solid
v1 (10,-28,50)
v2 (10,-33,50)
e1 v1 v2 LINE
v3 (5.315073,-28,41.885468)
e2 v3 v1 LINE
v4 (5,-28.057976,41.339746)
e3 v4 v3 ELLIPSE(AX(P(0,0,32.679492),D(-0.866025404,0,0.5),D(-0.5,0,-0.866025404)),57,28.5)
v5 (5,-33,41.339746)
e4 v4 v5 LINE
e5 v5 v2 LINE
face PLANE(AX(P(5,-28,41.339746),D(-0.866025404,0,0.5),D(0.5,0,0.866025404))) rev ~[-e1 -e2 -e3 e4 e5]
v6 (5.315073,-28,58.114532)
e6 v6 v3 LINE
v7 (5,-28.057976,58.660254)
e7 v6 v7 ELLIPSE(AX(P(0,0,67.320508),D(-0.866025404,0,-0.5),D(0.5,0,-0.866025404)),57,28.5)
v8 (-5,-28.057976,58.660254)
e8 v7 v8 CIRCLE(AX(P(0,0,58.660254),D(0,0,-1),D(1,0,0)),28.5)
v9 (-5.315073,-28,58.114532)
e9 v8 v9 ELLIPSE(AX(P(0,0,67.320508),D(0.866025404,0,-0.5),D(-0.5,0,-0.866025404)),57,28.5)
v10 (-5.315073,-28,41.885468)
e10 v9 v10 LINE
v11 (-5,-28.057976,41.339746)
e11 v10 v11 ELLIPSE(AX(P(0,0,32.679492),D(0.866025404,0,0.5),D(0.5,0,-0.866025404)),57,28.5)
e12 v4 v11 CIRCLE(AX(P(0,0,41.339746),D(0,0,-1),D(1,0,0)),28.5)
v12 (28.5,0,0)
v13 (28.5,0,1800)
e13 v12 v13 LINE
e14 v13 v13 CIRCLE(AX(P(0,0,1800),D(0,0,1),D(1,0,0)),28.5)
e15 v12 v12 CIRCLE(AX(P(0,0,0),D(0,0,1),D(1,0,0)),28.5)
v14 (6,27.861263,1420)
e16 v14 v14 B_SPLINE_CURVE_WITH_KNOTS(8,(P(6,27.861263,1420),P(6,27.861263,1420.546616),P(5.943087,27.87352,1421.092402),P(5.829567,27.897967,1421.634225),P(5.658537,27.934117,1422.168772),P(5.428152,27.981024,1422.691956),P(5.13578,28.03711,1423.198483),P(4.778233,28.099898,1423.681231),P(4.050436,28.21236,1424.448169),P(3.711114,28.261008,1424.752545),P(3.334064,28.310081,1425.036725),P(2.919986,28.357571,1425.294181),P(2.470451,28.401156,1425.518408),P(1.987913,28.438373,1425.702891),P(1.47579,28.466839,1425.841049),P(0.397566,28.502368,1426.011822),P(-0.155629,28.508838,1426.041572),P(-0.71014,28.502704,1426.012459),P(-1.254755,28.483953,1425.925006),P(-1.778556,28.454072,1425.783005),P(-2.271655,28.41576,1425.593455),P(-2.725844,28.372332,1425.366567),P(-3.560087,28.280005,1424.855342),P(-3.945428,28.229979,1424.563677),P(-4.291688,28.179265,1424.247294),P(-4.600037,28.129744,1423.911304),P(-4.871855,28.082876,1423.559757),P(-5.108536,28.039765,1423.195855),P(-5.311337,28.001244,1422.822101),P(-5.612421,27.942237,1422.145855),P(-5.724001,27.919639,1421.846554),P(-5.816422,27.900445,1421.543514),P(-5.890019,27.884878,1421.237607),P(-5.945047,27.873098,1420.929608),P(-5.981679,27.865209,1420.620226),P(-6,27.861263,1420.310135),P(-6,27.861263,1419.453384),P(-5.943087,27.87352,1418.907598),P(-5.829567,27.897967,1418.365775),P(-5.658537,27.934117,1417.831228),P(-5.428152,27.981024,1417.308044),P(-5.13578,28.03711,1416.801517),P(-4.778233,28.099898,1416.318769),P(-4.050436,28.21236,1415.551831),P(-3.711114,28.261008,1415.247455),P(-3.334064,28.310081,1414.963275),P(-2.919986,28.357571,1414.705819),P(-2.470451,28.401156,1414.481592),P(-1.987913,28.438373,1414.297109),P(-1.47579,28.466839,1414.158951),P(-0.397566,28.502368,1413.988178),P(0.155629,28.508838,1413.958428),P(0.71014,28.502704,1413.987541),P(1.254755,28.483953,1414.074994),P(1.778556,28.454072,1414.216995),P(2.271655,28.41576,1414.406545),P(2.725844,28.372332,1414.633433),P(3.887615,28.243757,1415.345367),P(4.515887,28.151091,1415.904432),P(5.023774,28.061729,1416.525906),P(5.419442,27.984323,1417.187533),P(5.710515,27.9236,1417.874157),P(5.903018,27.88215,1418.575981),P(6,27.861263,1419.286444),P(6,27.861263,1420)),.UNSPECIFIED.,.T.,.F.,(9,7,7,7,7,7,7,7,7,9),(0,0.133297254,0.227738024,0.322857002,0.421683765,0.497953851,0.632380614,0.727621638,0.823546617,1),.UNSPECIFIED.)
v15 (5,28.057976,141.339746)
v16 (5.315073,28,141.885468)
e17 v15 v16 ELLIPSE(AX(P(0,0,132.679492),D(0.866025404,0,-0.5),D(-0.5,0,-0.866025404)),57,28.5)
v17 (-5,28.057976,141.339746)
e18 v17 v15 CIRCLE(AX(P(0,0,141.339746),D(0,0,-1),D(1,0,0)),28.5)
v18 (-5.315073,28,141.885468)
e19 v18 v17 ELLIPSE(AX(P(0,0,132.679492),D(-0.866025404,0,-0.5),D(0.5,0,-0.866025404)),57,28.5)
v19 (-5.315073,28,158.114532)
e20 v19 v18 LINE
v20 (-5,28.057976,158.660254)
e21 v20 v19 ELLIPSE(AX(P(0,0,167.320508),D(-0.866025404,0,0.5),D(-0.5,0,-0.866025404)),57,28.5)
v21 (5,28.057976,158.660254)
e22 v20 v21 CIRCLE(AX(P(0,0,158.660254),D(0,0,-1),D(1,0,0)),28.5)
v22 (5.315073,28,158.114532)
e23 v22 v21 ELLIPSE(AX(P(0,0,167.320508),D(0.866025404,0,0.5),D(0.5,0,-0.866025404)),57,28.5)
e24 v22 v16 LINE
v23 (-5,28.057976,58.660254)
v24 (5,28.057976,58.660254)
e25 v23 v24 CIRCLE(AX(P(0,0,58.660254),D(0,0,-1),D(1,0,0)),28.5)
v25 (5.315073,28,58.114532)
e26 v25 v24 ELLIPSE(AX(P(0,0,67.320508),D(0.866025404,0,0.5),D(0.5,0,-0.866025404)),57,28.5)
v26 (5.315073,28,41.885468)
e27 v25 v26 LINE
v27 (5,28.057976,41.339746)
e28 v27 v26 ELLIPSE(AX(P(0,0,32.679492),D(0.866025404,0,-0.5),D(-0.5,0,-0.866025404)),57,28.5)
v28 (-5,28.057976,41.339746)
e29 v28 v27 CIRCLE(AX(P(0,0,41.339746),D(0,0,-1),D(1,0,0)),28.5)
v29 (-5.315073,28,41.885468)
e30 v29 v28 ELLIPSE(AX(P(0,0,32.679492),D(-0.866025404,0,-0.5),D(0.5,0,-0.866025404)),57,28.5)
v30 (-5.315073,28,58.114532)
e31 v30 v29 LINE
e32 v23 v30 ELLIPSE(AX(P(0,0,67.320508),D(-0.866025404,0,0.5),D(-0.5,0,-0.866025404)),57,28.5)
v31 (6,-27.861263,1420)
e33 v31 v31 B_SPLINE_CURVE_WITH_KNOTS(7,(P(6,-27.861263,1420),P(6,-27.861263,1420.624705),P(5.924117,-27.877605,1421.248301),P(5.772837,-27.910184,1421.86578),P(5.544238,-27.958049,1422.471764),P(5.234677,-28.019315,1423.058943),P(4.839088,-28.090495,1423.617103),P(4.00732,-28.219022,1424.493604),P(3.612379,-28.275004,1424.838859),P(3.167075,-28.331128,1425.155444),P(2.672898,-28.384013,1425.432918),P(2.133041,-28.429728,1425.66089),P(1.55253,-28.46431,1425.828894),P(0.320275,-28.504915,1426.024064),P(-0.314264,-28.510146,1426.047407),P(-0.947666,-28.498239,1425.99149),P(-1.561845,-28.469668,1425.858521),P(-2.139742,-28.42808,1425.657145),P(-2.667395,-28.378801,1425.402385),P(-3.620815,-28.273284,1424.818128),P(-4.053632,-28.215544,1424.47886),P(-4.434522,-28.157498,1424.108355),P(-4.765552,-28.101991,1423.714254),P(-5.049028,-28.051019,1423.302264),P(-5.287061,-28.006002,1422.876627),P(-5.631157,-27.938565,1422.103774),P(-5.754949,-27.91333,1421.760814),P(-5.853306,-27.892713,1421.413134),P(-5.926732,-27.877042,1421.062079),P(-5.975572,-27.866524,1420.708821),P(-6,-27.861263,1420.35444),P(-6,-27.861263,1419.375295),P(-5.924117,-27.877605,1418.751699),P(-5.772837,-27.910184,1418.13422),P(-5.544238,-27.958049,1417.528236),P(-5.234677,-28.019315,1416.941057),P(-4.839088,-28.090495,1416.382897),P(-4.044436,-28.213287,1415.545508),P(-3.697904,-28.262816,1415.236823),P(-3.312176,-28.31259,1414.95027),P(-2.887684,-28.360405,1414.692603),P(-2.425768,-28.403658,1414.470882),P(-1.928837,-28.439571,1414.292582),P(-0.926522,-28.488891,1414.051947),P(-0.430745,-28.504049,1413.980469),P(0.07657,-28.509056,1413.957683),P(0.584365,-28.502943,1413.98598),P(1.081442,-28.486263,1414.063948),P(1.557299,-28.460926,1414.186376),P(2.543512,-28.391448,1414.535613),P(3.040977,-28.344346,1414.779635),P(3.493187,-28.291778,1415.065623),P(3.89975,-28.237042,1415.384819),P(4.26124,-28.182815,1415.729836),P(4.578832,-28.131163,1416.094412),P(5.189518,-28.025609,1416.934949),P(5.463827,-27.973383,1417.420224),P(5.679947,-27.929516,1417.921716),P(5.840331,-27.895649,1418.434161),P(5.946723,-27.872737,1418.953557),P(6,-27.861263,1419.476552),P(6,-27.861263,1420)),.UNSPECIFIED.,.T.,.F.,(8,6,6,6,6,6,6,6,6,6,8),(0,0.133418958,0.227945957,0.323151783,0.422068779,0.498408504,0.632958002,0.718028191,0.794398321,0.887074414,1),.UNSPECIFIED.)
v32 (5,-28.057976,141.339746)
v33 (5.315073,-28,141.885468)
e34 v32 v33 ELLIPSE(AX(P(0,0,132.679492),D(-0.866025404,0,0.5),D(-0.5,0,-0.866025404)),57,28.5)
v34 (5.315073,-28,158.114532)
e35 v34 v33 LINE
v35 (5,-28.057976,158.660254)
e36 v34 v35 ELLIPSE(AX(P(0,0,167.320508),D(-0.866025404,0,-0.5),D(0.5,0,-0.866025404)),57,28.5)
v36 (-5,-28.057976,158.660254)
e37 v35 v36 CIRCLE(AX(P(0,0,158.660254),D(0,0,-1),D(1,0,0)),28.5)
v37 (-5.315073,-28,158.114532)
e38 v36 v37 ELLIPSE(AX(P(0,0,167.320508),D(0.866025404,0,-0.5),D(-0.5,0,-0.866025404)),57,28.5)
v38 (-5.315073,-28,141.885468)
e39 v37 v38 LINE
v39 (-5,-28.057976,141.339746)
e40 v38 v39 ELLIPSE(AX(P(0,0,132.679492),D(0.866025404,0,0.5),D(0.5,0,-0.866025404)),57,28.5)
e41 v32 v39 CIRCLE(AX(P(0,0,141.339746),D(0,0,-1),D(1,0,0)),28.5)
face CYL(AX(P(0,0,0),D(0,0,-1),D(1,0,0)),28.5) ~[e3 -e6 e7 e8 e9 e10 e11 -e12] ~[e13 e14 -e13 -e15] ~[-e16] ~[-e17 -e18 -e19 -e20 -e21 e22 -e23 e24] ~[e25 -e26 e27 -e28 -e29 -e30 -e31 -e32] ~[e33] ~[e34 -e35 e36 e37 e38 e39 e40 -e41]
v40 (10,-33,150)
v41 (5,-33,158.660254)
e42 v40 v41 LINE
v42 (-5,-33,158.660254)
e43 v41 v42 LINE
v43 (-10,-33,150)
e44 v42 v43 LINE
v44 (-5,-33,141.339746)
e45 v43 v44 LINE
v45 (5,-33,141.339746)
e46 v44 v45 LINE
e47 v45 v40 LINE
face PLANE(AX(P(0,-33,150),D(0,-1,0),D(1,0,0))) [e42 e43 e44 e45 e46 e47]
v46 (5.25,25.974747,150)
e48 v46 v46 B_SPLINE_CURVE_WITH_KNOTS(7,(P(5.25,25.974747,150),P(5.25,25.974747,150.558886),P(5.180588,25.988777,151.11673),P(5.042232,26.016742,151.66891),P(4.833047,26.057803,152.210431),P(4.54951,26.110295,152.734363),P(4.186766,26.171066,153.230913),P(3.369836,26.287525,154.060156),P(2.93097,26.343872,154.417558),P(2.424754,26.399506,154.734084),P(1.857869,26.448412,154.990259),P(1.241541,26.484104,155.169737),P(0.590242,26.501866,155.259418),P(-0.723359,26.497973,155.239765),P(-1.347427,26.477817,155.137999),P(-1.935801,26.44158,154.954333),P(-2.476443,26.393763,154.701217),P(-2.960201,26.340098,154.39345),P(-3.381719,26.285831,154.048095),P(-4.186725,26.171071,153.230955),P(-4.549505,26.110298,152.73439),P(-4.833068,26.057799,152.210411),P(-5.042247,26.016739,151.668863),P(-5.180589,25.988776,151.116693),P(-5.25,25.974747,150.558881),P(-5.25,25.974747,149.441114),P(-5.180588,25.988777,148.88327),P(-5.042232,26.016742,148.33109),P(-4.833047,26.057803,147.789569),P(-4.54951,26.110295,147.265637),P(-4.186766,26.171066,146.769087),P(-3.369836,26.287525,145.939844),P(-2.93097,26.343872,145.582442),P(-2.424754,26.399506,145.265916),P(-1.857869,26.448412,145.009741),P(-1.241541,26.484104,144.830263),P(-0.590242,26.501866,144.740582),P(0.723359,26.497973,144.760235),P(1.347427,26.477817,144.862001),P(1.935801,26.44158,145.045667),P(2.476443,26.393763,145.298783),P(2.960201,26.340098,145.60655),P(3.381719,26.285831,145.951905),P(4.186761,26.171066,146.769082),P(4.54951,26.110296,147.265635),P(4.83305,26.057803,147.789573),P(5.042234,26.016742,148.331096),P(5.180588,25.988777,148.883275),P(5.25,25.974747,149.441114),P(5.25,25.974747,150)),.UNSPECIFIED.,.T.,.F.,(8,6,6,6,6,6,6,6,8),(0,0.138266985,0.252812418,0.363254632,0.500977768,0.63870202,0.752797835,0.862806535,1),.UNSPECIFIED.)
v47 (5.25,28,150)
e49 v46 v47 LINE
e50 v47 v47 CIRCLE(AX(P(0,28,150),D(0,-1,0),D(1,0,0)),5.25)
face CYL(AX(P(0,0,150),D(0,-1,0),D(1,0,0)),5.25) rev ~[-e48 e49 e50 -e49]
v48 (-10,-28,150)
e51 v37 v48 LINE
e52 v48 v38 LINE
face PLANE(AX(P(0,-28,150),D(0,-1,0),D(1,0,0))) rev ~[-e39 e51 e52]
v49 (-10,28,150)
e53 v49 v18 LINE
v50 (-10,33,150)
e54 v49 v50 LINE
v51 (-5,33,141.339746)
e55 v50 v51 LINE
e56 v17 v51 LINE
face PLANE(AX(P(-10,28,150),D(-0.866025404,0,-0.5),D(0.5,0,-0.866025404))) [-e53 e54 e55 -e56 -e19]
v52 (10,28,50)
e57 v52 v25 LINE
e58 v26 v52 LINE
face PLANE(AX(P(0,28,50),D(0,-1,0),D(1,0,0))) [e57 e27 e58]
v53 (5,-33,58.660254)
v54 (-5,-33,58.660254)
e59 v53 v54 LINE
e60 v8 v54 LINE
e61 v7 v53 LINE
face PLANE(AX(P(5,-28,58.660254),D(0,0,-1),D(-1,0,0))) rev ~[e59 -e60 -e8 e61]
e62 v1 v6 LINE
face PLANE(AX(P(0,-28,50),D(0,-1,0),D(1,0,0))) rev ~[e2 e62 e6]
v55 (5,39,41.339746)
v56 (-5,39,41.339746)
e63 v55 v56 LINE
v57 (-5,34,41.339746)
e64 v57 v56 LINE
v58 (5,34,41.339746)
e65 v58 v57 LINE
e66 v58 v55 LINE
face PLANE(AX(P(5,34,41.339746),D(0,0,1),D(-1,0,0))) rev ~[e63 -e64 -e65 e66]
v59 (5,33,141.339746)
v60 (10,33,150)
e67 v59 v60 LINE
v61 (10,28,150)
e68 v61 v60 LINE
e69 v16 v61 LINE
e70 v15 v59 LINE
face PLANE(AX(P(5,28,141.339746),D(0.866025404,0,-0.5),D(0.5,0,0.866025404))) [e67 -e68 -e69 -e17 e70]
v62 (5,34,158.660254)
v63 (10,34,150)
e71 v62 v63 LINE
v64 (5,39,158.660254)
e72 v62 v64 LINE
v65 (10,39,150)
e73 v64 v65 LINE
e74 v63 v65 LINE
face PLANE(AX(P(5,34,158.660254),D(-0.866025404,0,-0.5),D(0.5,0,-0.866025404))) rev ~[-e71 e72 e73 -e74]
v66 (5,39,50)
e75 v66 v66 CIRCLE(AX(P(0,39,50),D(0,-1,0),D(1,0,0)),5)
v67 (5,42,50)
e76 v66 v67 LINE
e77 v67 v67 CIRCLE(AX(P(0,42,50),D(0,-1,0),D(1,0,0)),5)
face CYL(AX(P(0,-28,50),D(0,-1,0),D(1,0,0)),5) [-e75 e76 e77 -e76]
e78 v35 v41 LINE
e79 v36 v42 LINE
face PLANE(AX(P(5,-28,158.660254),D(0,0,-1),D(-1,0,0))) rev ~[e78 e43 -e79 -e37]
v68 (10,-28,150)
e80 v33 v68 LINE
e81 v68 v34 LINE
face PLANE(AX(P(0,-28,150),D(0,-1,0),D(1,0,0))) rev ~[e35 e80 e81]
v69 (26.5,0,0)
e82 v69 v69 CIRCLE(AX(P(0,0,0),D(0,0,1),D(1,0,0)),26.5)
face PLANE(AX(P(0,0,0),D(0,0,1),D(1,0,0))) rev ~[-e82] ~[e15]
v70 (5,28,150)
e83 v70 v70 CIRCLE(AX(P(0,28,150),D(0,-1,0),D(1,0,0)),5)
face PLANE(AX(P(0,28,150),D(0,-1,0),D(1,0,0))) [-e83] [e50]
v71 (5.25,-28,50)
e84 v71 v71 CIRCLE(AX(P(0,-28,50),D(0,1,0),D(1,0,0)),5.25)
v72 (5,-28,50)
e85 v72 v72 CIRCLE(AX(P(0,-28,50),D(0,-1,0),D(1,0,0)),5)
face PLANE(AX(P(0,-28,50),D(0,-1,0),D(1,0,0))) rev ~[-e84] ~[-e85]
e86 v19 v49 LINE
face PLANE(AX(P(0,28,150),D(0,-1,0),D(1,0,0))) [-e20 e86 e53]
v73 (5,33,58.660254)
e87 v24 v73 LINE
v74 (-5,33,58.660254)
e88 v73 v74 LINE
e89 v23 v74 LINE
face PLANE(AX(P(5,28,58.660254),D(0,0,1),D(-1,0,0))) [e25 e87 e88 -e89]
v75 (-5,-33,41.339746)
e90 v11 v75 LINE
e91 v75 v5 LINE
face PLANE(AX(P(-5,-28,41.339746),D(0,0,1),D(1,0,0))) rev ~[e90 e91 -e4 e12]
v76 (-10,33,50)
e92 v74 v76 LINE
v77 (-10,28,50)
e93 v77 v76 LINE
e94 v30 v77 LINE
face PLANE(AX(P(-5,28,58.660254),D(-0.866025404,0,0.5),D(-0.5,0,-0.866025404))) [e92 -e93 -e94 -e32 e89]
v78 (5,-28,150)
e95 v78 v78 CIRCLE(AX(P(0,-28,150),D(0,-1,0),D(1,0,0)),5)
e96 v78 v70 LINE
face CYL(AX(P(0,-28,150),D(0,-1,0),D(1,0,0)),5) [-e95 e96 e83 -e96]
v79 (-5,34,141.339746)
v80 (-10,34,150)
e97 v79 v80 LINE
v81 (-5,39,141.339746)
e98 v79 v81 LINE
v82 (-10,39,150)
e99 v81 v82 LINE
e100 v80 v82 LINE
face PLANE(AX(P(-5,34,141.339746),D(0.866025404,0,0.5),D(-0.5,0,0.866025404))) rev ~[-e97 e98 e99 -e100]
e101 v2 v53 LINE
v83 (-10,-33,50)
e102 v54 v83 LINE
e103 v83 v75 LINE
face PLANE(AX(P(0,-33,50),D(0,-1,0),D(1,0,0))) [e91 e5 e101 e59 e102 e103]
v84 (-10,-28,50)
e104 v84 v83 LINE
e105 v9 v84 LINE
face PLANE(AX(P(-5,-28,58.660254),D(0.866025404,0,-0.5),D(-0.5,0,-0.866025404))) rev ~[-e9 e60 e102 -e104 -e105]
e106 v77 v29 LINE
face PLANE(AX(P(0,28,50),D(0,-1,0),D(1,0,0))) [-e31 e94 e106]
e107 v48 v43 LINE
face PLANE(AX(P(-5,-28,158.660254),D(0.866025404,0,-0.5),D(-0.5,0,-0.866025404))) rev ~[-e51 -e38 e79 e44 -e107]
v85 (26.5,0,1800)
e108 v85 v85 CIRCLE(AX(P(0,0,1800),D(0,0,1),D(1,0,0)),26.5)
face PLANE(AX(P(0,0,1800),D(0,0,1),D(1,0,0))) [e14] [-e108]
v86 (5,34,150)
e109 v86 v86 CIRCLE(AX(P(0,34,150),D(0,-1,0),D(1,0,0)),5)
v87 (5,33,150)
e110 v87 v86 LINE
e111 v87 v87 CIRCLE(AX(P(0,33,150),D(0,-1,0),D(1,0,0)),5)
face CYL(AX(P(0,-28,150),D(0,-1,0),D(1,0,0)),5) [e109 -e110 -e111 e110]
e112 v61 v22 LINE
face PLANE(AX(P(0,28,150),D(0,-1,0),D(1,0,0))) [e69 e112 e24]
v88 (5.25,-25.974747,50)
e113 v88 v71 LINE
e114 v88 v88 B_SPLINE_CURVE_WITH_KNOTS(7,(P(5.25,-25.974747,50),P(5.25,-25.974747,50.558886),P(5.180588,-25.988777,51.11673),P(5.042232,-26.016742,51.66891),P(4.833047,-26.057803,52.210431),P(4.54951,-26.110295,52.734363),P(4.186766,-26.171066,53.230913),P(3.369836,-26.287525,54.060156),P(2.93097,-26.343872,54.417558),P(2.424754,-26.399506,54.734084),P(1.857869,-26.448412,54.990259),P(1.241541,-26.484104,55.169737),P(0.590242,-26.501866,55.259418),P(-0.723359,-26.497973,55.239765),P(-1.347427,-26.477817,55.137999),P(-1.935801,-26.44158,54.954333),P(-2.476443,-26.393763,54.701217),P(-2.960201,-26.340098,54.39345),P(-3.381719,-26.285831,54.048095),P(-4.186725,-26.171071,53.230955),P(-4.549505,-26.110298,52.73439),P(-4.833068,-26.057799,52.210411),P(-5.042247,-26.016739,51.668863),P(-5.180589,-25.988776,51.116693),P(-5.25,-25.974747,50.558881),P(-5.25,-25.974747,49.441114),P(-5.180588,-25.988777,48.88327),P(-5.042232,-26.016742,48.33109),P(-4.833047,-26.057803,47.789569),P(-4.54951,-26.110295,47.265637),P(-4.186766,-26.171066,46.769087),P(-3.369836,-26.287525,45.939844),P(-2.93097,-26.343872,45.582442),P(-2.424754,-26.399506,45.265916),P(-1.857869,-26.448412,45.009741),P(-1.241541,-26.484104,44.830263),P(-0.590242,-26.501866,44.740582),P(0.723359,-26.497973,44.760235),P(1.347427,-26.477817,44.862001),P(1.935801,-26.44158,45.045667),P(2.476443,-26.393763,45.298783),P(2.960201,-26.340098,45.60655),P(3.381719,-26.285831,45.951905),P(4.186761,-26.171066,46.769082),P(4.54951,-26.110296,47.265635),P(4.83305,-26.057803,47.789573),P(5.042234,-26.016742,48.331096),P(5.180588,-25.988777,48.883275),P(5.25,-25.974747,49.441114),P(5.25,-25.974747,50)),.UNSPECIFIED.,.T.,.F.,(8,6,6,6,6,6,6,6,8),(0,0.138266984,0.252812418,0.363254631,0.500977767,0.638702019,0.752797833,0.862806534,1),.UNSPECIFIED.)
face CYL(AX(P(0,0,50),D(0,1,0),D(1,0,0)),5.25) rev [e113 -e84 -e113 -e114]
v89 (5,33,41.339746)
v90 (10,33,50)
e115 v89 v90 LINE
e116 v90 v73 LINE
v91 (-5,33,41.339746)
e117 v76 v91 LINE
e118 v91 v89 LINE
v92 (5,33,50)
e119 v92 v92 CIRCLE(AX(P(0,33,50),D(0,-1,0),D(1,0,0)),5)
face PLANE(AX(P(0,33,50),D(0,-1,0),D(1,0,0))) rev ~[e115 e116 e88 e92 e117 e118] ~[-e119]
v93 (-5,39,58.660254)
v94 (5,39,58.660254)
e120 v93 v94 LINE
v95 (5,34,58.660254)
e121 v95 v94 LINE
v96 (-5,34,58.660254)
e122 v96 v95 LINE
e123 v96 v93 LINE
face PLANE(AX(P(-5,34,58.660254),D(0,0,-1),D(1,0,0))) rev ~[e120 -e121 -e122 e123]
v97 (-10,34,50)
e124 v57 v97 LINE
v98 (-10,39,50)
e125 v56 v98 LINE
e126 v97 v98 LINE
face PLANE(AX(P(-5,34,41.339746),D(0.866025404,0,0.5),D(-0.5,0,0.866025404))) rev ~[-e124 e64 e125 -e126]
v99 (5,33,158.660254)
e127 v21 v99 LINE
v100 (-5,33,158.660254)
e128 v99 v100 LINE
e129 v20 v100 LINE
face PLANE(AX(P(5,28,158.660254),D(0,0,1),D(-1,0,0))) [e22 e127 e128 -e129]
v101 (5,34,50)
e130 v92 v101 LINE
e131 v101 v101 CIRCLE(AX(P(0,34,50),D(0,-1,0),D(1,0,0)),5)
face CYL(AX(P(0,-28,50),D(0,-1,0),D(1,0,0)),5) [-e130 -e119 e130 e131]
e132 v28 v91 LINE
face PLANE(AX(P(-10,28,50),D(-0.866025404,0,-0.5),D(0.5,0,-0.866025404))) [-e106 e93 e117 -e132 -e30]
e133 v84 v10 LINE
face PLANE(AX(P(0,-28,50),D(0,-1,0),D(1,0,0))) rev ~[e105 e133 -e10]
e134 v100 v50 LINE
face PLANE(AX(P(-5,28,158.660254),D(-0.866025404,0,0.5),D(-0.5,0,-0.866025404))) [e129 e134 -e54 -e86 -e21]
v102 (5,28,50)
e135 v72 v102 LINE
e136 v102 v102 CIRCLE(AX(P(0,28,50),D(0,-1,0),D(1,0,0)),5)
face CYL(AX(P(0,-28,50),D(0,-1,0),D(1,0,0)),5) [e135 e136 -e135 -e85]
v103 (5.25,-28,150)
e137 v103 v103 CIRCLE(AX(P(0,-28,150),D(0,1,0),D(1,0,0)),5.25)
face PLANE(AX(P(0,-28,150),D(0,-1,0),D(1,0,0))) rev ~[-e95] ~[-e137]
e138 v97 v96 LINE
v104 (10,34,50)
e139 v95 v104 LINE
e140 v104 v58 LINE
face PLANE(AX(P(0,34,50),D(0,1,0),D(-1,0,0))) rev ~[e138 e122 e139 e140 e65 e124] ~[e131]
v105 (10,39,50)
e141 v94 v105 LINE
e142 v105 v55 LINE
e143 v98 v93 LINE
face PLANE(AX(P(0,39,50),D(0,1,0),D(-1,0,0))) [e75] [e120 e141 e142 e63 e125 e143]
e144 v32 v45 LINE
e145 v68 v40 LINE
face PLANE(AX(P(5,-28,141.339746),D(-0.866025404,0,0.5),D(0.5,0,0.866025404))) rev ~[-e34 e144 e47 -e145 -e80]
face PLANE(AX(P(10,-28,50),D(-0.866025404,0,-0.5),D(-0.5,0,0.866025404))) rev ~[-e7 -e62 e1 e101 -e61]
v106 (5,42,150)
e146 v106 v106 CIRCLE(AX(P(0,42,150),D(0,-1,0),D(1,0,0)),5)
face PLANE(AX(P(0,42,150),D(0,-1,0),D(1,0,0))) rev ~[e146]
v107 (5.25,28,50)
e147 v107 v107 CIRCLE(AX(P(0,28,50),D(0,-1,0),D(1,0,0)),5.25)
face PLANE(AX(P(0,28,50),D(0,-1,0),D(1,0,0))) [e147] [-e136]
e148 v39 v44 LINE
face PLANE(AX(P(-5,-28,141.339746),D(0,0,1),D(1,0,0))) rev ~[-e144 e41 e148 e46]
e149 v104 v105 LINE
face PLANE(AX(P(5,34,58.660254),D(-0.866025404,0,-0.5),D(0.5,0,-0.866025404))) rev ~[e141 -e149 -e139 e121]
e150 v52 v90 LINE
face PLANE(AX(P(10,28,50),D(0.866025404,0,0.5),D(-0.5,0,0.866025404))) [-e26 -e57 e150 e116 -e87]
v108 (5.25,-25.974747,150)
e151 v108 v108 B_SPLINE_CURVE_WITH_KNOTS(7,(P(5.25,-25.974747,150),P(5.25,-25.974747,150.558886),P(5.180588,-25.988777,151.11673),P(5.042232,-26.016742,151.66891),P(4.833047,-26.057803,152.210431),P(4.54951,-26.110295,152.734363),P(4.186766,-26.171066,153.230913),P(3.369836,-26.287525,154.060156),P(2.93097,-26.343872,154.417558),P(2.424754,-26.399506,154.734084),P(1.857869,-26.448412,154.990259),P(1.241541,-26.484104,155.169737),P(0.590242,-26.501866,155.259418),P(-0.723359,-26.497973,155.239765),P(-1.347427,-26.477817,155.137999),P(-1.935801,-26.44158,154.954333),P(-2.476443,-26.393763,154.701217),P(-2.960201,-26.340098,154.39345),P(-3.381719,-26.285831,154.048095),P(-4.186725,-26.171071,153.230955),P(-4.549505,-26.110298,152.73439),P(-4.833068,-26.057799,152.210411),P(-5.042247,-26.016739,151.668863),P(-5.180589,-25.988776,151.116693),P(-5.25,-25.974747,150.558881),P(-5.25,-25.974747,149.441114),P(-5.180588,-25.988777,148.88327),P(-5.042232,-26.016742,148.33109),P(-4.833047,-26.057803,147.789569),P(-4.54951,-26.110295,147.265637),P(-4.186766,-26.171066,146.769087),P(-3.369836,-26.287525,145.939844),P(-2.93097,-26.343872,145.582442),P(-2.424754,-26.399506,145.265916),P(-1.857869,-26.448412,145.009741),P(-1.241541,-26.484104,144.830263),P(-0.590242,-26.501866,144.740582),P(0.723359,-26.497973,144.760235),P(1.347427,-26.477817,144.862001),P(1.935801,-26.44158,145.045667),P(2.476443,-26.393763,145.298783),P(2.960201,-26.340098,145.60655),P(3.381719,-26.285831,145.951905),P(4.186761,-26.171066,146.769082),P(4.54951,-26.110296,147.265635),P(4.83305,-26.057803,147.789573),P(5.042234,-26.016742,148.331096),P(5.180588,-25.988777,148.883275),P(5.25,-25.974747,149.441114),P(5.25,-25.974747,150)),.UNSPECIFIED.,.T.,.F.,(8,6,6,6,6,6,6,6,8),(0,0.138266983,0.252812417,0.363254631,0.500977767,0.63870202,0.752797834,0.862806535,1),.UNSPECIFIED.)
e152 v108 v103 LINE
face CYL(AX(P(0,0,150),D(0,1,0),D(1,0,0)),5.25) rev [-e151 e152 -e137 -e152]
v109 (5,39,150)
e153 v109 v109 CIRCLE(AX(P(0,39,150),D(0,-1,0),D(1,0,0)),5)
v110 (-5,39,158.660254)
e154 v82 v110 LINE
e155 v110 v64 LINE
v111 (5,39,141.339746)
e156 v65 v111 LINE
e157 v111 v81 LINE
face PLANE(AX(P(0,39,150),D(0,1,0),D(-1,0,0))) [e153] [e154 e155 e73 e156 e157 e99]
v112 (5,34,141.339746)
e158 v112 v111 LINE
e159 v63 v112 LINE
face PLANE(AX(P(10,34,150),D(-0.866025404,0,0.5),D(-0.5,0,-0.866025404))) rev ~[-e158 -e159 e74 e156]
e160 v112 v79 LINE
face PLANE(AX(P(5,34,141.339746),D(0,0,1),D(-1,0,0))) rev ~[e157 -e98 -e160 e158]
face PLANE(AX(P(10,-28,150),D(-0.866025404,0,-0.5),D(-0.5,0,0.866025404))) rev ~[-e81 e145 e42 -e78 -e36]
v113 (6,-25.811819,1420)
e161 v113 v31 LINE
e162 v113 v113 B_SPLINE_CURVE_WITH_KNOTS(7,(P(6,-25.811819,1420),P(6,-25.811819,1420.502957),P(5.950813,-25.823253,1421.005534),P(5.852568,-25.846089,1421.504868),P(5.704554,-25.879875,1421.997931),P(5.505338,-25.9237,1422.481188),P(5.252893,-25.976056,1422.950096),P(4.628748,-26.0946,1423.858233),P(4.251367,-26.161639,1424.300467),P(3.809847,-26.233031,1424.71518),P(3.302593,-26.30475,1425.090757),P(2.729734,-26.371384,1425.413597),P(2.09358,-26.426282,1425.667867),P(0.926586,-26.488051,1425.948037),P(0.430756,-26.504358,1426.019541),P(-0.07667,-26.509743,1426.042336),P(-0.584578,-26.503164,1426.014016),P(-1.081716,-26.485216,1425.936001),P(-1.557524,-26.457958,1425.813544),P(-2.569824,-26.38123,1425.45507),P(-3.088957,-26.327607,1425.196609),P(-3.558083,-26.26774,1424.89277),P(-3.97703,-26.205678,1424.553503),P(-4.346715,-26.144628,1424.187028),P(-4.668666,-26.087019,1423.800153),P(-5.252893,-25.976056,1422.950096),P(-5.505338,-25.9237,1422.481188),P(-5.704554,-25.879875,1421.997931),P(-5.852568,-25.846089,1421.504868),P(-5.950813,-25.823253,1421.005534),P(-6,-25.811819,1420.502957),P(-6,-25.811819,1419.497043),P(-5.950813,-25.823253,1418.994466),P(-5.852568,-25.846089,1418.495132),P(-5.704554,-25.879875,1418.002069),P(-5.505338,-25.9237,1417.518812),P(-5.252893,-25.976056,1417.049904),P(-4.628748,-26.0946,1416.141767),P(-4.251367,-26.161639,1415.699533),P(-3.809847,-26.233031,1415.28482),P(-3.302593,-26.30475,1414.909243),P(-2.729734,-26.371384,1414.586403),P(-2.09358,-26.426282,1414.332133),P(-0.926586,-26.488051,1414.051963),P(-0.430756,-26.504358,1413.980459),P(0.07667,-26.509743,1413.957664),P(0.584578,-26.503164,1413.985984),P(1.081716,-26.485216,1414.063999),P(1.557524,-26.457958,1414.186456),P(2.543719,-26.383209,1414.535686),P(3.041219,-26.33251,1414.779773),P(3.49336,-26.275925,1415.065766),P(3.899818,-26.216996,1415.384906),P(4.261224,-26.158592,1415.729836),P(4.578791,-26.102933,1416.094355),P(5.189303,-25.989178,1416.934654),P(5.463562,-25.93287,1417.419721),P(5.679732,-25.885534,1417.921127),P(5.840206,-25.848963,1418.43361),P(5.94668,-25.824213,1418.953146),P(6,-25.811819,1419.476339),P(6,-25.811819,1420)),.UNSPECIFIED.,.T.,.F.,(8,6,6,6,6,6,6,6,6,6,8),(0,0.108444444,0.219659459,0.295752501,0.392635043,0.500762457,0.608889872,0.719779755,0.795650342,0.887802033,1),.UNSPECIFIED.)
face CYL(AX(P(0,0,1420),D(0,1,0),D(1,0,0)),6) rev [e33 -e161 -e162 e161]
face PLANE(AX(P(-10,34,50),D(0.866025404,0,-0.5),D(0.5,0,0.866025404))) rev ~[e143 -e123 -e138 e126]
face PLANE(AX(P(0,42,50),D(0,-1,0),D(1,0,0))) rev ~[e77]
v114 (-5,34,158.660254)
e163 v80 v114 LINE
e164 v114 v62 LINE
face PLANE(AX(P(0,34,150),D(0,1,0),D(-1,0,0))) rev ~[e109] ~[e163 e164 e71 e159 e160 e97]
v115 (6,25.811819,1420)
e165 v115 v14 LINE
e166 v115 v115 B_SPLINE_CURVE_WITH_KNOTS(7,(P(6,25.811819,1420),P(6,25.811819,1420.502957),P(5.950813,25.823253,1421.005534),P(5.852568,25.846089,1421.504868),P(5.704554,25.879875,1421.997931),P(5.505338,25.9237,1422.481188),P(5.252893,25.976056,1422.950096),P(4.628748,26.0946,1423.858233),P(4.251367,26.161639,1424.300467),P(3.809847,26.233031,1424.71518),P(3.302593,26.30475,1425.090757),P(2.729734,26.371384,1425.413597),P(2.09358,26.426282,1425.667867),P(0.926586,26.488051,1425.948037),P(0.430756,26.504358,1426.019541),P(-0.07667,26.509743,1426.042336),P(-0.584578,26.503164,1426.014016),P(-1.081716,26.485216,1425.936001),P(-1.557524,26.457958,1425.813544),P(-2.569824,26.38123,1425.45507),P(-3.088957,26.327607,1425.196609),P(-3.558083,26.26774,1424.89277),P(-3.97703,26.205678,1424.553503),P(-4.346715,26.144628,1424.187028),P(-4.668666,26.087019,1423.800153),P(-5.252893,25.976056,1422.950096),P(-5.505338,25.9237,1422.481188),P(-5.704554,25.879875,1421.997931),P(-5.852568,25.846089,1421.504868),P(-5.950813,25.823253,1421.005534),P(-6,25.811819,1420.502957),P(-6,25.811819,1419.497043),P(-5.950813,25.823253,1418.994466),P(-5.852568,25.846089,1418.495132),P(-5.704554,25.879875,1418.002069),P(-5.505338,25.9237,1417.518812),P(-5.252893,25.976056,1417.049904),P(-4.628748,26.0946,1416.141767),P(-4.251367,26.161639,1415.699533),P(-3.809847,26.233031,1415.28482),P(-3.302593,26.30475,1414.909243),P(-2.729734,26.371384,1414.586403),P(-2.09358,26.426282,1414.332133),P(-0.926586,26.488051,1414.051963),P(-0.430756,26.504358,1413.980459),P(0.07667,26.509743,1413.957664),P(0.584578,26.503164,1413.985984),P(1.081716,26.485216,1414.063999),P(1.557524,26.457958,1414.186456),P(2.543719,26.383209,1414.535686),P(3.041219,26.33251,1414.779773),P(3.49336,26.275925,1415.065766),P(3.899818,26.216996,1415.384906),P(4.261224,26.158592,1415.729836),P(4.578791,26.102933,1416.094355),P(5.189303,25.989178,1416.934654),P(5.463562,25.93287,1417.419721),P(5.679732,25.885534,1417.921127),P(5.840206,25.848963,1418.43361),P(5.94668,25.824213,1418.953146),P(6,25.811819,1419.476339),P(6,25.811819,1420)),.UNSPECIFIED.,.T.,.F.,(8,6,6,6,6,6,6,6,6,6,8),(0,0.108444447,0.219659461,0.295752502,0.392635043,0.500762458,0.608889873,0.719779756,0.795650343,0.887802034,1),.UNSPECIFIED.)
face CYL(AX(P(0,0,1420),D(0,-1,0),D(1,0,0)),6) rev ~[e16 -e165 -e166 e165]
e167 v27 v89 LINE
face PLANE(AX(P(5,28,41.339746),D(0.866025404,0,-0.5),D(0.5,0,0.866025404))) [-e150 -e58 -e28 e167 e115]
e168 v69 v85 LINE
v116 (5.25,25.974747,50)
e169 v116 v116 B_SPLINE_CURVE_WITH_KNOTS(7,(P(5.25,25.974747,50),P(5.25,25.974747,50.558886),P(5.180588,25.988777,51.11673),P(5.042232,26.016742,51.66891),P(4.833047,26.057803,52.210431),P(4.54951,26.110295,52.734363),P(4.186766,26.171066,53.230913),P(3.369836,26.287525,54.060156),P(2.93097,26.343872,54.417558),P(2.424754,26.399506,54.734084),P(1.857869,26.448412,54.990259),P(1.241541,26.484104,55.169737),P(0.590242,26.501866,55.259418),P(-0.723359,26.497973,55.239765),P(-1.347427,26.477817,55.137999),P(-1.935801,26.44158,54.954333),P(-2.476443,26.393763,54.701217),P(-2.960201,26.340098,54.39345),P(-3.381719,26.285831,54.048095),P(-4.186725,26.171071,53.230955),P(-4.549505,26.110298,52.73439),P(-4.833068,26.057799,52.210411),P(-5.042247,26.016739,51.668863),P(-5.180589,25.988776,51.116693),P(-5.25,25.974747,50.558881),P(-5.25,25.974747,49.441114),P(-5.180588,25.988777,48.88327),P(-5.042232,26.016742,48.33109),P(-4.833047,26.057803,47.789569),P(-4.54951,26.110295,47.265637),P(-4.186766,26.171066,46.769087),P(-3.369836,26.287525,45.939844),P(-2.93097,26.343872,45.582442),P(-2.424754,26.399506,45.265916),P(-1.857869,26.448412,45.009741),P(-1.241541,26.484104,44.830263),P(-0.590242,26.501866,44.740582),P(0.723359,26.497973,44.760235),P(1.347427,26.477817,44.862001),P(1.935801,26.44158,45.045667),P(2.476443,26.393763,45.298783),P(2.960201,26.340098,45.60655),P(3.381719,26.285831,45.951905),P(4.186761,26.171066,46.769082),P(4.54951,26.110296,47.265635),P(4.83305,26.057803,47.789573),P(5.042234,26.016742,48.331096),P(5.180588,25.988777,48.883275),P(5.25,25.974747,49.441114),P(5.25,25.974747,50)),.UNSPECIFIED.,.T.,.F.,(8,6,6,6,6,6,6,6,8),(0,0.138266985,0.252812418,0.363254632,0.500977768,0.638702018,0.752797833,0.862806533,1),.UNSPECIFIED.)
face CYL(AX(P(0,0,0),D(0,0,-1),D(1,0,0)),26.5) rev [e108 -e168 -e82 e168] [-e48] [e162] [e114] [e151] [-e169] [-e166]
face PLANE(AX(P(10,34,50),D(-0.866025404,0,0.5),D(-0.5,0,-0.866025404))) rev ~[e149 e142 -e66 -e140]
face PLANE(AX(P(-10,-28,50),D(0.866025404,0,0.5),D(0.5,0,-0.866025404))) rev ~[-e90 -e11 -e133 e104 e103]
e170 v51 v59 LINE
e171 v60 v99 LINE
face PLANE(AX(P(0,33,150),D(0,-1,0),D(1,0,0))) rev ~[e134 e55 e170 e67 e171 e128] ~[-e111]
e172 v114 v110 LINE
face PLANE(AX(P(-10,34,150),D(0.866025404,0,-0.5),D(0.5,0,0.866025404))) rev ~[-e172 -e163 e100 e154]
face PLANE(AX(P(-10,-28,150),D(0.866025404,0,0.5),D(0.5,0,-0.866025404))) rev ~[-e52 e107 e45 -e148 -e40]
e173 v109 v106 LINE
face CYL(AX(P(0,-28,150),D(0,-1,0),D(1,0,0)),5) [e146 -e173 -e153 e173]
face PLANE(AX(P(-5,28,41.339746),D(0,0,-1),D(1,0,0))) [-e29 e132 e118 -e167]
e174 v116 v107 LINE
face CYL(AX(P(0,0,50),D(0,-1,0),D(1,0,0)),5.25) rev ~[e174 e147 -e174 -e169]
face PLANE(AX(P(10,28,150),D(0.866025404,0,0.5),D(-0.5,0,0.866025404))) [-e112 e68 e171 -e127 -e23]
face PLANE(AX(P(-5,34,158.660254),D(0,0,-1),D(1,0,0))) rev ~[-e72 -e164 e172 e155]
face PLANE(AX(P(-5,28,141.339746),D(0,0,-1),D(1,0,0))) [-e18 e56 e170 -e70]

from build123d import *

# Parameters (mm, degrees)
F0_R          = 28.5
F0_R_2        = 26.5
F1_DEPTH      = 1800
F2_R          = 5.25
F2_R_2        = 6
F3_DEPTH      = 28.501
F3_DEPTH_BACK = 28.501
F6_DEPTH      = 5
F7_R          = 5
F8_DEPTH      = 70
F11_DEPTH     = 5
F14_DEPTH     = 5


with BuildPart() as f1:
    # F0 (on Top) → F1 (new body)
    with BuildSketch(Plane.XY):
        Circle(F0_R)
        Circle(F0_R_2, mode=Mode.SUBTRACT)
    extrude(amount=F1_DEPTH)

    # F2 (on Front) → F3 (cut, two sides)
    with BuildSketch(Plane.XZ) as f3_sk:
        with Locations((0, 50)):
            Circle(F2_R)
        with Locations((0, 150)):
            Circle(F2_R)
        with Locations((0, 1420)):
            Circle(F2_R_2)
    extrude(amount=-F3_DEPTH, mode=Mode.SUBTRACT)
    extrude(f3_sk.sketch, amount=F3_DEPTH_BACK, mode=Mode.SUBTRACT)

    # F5 (on offset) → F6 (join)
    with BuildSketch(Plane.XZ.offset(28)):
        Polygon((-5, 41.3397459622), (5, 41.3397459622), (10, 50), (5, 58.6602540378), (-5, 58.6602540378), (-10, 50), align=None)
        Polygon((-5, 141.3397459622), (5, 141.3397459622), (10, 150), (5, 158.6602540378), (-5, 158.6602540378), (-10, 150), align=None)
    extrude(amount=F6_DEPTH)

    # F7 (on offset) → F8 (join)
    with BuildSketch(Plane.XZ.offset(28)):
        with Locations((0, 150)):
            Circle(F7_R)
        with Locations((0, 50)):
            Circle(F7_R)
    extrude(amount=-F8_DEPTH)

    # F10 (on offset) → F11 (join)
    with BuildSketch(Plane.XZ.offset(-28)):
        Polygon((-5, 141.3397459622), (5, 141.3397459622), (10, 150), (5, 158.6602540378), (-5, 158.6602540378), (-10, 150), align=None)
        Polygon((-5, 41.3397459622), (5, 41.3397459622), (10, 50), (5, 58.6602540378), (-5, 58.6602540378), (-10, 50), align=None)
    extrude(amount=-F11_DEPTH)

    # F13 (on offset) → F14 (join)
    with BuildSketch(Plane(origin=(0, 34, 0), x_dir=(-1, 0, 0), z_dir=(0, 1, 0))):
        Polygon((-10, 150), (-5, 141.3397459622), (5, 141.3397459622), (10, 150), (5, 158.6602540378), (-5, 158.6602540378), align=None)
        Polygon((-10, 50), (-5, 41.3397459622), (5, 41.3397459622), (10, 50), (5, 58.6602540378), (-5, 58.6602540378), align=None)
    extrude(amount=F14_DEPTH)


solid = f1.part
